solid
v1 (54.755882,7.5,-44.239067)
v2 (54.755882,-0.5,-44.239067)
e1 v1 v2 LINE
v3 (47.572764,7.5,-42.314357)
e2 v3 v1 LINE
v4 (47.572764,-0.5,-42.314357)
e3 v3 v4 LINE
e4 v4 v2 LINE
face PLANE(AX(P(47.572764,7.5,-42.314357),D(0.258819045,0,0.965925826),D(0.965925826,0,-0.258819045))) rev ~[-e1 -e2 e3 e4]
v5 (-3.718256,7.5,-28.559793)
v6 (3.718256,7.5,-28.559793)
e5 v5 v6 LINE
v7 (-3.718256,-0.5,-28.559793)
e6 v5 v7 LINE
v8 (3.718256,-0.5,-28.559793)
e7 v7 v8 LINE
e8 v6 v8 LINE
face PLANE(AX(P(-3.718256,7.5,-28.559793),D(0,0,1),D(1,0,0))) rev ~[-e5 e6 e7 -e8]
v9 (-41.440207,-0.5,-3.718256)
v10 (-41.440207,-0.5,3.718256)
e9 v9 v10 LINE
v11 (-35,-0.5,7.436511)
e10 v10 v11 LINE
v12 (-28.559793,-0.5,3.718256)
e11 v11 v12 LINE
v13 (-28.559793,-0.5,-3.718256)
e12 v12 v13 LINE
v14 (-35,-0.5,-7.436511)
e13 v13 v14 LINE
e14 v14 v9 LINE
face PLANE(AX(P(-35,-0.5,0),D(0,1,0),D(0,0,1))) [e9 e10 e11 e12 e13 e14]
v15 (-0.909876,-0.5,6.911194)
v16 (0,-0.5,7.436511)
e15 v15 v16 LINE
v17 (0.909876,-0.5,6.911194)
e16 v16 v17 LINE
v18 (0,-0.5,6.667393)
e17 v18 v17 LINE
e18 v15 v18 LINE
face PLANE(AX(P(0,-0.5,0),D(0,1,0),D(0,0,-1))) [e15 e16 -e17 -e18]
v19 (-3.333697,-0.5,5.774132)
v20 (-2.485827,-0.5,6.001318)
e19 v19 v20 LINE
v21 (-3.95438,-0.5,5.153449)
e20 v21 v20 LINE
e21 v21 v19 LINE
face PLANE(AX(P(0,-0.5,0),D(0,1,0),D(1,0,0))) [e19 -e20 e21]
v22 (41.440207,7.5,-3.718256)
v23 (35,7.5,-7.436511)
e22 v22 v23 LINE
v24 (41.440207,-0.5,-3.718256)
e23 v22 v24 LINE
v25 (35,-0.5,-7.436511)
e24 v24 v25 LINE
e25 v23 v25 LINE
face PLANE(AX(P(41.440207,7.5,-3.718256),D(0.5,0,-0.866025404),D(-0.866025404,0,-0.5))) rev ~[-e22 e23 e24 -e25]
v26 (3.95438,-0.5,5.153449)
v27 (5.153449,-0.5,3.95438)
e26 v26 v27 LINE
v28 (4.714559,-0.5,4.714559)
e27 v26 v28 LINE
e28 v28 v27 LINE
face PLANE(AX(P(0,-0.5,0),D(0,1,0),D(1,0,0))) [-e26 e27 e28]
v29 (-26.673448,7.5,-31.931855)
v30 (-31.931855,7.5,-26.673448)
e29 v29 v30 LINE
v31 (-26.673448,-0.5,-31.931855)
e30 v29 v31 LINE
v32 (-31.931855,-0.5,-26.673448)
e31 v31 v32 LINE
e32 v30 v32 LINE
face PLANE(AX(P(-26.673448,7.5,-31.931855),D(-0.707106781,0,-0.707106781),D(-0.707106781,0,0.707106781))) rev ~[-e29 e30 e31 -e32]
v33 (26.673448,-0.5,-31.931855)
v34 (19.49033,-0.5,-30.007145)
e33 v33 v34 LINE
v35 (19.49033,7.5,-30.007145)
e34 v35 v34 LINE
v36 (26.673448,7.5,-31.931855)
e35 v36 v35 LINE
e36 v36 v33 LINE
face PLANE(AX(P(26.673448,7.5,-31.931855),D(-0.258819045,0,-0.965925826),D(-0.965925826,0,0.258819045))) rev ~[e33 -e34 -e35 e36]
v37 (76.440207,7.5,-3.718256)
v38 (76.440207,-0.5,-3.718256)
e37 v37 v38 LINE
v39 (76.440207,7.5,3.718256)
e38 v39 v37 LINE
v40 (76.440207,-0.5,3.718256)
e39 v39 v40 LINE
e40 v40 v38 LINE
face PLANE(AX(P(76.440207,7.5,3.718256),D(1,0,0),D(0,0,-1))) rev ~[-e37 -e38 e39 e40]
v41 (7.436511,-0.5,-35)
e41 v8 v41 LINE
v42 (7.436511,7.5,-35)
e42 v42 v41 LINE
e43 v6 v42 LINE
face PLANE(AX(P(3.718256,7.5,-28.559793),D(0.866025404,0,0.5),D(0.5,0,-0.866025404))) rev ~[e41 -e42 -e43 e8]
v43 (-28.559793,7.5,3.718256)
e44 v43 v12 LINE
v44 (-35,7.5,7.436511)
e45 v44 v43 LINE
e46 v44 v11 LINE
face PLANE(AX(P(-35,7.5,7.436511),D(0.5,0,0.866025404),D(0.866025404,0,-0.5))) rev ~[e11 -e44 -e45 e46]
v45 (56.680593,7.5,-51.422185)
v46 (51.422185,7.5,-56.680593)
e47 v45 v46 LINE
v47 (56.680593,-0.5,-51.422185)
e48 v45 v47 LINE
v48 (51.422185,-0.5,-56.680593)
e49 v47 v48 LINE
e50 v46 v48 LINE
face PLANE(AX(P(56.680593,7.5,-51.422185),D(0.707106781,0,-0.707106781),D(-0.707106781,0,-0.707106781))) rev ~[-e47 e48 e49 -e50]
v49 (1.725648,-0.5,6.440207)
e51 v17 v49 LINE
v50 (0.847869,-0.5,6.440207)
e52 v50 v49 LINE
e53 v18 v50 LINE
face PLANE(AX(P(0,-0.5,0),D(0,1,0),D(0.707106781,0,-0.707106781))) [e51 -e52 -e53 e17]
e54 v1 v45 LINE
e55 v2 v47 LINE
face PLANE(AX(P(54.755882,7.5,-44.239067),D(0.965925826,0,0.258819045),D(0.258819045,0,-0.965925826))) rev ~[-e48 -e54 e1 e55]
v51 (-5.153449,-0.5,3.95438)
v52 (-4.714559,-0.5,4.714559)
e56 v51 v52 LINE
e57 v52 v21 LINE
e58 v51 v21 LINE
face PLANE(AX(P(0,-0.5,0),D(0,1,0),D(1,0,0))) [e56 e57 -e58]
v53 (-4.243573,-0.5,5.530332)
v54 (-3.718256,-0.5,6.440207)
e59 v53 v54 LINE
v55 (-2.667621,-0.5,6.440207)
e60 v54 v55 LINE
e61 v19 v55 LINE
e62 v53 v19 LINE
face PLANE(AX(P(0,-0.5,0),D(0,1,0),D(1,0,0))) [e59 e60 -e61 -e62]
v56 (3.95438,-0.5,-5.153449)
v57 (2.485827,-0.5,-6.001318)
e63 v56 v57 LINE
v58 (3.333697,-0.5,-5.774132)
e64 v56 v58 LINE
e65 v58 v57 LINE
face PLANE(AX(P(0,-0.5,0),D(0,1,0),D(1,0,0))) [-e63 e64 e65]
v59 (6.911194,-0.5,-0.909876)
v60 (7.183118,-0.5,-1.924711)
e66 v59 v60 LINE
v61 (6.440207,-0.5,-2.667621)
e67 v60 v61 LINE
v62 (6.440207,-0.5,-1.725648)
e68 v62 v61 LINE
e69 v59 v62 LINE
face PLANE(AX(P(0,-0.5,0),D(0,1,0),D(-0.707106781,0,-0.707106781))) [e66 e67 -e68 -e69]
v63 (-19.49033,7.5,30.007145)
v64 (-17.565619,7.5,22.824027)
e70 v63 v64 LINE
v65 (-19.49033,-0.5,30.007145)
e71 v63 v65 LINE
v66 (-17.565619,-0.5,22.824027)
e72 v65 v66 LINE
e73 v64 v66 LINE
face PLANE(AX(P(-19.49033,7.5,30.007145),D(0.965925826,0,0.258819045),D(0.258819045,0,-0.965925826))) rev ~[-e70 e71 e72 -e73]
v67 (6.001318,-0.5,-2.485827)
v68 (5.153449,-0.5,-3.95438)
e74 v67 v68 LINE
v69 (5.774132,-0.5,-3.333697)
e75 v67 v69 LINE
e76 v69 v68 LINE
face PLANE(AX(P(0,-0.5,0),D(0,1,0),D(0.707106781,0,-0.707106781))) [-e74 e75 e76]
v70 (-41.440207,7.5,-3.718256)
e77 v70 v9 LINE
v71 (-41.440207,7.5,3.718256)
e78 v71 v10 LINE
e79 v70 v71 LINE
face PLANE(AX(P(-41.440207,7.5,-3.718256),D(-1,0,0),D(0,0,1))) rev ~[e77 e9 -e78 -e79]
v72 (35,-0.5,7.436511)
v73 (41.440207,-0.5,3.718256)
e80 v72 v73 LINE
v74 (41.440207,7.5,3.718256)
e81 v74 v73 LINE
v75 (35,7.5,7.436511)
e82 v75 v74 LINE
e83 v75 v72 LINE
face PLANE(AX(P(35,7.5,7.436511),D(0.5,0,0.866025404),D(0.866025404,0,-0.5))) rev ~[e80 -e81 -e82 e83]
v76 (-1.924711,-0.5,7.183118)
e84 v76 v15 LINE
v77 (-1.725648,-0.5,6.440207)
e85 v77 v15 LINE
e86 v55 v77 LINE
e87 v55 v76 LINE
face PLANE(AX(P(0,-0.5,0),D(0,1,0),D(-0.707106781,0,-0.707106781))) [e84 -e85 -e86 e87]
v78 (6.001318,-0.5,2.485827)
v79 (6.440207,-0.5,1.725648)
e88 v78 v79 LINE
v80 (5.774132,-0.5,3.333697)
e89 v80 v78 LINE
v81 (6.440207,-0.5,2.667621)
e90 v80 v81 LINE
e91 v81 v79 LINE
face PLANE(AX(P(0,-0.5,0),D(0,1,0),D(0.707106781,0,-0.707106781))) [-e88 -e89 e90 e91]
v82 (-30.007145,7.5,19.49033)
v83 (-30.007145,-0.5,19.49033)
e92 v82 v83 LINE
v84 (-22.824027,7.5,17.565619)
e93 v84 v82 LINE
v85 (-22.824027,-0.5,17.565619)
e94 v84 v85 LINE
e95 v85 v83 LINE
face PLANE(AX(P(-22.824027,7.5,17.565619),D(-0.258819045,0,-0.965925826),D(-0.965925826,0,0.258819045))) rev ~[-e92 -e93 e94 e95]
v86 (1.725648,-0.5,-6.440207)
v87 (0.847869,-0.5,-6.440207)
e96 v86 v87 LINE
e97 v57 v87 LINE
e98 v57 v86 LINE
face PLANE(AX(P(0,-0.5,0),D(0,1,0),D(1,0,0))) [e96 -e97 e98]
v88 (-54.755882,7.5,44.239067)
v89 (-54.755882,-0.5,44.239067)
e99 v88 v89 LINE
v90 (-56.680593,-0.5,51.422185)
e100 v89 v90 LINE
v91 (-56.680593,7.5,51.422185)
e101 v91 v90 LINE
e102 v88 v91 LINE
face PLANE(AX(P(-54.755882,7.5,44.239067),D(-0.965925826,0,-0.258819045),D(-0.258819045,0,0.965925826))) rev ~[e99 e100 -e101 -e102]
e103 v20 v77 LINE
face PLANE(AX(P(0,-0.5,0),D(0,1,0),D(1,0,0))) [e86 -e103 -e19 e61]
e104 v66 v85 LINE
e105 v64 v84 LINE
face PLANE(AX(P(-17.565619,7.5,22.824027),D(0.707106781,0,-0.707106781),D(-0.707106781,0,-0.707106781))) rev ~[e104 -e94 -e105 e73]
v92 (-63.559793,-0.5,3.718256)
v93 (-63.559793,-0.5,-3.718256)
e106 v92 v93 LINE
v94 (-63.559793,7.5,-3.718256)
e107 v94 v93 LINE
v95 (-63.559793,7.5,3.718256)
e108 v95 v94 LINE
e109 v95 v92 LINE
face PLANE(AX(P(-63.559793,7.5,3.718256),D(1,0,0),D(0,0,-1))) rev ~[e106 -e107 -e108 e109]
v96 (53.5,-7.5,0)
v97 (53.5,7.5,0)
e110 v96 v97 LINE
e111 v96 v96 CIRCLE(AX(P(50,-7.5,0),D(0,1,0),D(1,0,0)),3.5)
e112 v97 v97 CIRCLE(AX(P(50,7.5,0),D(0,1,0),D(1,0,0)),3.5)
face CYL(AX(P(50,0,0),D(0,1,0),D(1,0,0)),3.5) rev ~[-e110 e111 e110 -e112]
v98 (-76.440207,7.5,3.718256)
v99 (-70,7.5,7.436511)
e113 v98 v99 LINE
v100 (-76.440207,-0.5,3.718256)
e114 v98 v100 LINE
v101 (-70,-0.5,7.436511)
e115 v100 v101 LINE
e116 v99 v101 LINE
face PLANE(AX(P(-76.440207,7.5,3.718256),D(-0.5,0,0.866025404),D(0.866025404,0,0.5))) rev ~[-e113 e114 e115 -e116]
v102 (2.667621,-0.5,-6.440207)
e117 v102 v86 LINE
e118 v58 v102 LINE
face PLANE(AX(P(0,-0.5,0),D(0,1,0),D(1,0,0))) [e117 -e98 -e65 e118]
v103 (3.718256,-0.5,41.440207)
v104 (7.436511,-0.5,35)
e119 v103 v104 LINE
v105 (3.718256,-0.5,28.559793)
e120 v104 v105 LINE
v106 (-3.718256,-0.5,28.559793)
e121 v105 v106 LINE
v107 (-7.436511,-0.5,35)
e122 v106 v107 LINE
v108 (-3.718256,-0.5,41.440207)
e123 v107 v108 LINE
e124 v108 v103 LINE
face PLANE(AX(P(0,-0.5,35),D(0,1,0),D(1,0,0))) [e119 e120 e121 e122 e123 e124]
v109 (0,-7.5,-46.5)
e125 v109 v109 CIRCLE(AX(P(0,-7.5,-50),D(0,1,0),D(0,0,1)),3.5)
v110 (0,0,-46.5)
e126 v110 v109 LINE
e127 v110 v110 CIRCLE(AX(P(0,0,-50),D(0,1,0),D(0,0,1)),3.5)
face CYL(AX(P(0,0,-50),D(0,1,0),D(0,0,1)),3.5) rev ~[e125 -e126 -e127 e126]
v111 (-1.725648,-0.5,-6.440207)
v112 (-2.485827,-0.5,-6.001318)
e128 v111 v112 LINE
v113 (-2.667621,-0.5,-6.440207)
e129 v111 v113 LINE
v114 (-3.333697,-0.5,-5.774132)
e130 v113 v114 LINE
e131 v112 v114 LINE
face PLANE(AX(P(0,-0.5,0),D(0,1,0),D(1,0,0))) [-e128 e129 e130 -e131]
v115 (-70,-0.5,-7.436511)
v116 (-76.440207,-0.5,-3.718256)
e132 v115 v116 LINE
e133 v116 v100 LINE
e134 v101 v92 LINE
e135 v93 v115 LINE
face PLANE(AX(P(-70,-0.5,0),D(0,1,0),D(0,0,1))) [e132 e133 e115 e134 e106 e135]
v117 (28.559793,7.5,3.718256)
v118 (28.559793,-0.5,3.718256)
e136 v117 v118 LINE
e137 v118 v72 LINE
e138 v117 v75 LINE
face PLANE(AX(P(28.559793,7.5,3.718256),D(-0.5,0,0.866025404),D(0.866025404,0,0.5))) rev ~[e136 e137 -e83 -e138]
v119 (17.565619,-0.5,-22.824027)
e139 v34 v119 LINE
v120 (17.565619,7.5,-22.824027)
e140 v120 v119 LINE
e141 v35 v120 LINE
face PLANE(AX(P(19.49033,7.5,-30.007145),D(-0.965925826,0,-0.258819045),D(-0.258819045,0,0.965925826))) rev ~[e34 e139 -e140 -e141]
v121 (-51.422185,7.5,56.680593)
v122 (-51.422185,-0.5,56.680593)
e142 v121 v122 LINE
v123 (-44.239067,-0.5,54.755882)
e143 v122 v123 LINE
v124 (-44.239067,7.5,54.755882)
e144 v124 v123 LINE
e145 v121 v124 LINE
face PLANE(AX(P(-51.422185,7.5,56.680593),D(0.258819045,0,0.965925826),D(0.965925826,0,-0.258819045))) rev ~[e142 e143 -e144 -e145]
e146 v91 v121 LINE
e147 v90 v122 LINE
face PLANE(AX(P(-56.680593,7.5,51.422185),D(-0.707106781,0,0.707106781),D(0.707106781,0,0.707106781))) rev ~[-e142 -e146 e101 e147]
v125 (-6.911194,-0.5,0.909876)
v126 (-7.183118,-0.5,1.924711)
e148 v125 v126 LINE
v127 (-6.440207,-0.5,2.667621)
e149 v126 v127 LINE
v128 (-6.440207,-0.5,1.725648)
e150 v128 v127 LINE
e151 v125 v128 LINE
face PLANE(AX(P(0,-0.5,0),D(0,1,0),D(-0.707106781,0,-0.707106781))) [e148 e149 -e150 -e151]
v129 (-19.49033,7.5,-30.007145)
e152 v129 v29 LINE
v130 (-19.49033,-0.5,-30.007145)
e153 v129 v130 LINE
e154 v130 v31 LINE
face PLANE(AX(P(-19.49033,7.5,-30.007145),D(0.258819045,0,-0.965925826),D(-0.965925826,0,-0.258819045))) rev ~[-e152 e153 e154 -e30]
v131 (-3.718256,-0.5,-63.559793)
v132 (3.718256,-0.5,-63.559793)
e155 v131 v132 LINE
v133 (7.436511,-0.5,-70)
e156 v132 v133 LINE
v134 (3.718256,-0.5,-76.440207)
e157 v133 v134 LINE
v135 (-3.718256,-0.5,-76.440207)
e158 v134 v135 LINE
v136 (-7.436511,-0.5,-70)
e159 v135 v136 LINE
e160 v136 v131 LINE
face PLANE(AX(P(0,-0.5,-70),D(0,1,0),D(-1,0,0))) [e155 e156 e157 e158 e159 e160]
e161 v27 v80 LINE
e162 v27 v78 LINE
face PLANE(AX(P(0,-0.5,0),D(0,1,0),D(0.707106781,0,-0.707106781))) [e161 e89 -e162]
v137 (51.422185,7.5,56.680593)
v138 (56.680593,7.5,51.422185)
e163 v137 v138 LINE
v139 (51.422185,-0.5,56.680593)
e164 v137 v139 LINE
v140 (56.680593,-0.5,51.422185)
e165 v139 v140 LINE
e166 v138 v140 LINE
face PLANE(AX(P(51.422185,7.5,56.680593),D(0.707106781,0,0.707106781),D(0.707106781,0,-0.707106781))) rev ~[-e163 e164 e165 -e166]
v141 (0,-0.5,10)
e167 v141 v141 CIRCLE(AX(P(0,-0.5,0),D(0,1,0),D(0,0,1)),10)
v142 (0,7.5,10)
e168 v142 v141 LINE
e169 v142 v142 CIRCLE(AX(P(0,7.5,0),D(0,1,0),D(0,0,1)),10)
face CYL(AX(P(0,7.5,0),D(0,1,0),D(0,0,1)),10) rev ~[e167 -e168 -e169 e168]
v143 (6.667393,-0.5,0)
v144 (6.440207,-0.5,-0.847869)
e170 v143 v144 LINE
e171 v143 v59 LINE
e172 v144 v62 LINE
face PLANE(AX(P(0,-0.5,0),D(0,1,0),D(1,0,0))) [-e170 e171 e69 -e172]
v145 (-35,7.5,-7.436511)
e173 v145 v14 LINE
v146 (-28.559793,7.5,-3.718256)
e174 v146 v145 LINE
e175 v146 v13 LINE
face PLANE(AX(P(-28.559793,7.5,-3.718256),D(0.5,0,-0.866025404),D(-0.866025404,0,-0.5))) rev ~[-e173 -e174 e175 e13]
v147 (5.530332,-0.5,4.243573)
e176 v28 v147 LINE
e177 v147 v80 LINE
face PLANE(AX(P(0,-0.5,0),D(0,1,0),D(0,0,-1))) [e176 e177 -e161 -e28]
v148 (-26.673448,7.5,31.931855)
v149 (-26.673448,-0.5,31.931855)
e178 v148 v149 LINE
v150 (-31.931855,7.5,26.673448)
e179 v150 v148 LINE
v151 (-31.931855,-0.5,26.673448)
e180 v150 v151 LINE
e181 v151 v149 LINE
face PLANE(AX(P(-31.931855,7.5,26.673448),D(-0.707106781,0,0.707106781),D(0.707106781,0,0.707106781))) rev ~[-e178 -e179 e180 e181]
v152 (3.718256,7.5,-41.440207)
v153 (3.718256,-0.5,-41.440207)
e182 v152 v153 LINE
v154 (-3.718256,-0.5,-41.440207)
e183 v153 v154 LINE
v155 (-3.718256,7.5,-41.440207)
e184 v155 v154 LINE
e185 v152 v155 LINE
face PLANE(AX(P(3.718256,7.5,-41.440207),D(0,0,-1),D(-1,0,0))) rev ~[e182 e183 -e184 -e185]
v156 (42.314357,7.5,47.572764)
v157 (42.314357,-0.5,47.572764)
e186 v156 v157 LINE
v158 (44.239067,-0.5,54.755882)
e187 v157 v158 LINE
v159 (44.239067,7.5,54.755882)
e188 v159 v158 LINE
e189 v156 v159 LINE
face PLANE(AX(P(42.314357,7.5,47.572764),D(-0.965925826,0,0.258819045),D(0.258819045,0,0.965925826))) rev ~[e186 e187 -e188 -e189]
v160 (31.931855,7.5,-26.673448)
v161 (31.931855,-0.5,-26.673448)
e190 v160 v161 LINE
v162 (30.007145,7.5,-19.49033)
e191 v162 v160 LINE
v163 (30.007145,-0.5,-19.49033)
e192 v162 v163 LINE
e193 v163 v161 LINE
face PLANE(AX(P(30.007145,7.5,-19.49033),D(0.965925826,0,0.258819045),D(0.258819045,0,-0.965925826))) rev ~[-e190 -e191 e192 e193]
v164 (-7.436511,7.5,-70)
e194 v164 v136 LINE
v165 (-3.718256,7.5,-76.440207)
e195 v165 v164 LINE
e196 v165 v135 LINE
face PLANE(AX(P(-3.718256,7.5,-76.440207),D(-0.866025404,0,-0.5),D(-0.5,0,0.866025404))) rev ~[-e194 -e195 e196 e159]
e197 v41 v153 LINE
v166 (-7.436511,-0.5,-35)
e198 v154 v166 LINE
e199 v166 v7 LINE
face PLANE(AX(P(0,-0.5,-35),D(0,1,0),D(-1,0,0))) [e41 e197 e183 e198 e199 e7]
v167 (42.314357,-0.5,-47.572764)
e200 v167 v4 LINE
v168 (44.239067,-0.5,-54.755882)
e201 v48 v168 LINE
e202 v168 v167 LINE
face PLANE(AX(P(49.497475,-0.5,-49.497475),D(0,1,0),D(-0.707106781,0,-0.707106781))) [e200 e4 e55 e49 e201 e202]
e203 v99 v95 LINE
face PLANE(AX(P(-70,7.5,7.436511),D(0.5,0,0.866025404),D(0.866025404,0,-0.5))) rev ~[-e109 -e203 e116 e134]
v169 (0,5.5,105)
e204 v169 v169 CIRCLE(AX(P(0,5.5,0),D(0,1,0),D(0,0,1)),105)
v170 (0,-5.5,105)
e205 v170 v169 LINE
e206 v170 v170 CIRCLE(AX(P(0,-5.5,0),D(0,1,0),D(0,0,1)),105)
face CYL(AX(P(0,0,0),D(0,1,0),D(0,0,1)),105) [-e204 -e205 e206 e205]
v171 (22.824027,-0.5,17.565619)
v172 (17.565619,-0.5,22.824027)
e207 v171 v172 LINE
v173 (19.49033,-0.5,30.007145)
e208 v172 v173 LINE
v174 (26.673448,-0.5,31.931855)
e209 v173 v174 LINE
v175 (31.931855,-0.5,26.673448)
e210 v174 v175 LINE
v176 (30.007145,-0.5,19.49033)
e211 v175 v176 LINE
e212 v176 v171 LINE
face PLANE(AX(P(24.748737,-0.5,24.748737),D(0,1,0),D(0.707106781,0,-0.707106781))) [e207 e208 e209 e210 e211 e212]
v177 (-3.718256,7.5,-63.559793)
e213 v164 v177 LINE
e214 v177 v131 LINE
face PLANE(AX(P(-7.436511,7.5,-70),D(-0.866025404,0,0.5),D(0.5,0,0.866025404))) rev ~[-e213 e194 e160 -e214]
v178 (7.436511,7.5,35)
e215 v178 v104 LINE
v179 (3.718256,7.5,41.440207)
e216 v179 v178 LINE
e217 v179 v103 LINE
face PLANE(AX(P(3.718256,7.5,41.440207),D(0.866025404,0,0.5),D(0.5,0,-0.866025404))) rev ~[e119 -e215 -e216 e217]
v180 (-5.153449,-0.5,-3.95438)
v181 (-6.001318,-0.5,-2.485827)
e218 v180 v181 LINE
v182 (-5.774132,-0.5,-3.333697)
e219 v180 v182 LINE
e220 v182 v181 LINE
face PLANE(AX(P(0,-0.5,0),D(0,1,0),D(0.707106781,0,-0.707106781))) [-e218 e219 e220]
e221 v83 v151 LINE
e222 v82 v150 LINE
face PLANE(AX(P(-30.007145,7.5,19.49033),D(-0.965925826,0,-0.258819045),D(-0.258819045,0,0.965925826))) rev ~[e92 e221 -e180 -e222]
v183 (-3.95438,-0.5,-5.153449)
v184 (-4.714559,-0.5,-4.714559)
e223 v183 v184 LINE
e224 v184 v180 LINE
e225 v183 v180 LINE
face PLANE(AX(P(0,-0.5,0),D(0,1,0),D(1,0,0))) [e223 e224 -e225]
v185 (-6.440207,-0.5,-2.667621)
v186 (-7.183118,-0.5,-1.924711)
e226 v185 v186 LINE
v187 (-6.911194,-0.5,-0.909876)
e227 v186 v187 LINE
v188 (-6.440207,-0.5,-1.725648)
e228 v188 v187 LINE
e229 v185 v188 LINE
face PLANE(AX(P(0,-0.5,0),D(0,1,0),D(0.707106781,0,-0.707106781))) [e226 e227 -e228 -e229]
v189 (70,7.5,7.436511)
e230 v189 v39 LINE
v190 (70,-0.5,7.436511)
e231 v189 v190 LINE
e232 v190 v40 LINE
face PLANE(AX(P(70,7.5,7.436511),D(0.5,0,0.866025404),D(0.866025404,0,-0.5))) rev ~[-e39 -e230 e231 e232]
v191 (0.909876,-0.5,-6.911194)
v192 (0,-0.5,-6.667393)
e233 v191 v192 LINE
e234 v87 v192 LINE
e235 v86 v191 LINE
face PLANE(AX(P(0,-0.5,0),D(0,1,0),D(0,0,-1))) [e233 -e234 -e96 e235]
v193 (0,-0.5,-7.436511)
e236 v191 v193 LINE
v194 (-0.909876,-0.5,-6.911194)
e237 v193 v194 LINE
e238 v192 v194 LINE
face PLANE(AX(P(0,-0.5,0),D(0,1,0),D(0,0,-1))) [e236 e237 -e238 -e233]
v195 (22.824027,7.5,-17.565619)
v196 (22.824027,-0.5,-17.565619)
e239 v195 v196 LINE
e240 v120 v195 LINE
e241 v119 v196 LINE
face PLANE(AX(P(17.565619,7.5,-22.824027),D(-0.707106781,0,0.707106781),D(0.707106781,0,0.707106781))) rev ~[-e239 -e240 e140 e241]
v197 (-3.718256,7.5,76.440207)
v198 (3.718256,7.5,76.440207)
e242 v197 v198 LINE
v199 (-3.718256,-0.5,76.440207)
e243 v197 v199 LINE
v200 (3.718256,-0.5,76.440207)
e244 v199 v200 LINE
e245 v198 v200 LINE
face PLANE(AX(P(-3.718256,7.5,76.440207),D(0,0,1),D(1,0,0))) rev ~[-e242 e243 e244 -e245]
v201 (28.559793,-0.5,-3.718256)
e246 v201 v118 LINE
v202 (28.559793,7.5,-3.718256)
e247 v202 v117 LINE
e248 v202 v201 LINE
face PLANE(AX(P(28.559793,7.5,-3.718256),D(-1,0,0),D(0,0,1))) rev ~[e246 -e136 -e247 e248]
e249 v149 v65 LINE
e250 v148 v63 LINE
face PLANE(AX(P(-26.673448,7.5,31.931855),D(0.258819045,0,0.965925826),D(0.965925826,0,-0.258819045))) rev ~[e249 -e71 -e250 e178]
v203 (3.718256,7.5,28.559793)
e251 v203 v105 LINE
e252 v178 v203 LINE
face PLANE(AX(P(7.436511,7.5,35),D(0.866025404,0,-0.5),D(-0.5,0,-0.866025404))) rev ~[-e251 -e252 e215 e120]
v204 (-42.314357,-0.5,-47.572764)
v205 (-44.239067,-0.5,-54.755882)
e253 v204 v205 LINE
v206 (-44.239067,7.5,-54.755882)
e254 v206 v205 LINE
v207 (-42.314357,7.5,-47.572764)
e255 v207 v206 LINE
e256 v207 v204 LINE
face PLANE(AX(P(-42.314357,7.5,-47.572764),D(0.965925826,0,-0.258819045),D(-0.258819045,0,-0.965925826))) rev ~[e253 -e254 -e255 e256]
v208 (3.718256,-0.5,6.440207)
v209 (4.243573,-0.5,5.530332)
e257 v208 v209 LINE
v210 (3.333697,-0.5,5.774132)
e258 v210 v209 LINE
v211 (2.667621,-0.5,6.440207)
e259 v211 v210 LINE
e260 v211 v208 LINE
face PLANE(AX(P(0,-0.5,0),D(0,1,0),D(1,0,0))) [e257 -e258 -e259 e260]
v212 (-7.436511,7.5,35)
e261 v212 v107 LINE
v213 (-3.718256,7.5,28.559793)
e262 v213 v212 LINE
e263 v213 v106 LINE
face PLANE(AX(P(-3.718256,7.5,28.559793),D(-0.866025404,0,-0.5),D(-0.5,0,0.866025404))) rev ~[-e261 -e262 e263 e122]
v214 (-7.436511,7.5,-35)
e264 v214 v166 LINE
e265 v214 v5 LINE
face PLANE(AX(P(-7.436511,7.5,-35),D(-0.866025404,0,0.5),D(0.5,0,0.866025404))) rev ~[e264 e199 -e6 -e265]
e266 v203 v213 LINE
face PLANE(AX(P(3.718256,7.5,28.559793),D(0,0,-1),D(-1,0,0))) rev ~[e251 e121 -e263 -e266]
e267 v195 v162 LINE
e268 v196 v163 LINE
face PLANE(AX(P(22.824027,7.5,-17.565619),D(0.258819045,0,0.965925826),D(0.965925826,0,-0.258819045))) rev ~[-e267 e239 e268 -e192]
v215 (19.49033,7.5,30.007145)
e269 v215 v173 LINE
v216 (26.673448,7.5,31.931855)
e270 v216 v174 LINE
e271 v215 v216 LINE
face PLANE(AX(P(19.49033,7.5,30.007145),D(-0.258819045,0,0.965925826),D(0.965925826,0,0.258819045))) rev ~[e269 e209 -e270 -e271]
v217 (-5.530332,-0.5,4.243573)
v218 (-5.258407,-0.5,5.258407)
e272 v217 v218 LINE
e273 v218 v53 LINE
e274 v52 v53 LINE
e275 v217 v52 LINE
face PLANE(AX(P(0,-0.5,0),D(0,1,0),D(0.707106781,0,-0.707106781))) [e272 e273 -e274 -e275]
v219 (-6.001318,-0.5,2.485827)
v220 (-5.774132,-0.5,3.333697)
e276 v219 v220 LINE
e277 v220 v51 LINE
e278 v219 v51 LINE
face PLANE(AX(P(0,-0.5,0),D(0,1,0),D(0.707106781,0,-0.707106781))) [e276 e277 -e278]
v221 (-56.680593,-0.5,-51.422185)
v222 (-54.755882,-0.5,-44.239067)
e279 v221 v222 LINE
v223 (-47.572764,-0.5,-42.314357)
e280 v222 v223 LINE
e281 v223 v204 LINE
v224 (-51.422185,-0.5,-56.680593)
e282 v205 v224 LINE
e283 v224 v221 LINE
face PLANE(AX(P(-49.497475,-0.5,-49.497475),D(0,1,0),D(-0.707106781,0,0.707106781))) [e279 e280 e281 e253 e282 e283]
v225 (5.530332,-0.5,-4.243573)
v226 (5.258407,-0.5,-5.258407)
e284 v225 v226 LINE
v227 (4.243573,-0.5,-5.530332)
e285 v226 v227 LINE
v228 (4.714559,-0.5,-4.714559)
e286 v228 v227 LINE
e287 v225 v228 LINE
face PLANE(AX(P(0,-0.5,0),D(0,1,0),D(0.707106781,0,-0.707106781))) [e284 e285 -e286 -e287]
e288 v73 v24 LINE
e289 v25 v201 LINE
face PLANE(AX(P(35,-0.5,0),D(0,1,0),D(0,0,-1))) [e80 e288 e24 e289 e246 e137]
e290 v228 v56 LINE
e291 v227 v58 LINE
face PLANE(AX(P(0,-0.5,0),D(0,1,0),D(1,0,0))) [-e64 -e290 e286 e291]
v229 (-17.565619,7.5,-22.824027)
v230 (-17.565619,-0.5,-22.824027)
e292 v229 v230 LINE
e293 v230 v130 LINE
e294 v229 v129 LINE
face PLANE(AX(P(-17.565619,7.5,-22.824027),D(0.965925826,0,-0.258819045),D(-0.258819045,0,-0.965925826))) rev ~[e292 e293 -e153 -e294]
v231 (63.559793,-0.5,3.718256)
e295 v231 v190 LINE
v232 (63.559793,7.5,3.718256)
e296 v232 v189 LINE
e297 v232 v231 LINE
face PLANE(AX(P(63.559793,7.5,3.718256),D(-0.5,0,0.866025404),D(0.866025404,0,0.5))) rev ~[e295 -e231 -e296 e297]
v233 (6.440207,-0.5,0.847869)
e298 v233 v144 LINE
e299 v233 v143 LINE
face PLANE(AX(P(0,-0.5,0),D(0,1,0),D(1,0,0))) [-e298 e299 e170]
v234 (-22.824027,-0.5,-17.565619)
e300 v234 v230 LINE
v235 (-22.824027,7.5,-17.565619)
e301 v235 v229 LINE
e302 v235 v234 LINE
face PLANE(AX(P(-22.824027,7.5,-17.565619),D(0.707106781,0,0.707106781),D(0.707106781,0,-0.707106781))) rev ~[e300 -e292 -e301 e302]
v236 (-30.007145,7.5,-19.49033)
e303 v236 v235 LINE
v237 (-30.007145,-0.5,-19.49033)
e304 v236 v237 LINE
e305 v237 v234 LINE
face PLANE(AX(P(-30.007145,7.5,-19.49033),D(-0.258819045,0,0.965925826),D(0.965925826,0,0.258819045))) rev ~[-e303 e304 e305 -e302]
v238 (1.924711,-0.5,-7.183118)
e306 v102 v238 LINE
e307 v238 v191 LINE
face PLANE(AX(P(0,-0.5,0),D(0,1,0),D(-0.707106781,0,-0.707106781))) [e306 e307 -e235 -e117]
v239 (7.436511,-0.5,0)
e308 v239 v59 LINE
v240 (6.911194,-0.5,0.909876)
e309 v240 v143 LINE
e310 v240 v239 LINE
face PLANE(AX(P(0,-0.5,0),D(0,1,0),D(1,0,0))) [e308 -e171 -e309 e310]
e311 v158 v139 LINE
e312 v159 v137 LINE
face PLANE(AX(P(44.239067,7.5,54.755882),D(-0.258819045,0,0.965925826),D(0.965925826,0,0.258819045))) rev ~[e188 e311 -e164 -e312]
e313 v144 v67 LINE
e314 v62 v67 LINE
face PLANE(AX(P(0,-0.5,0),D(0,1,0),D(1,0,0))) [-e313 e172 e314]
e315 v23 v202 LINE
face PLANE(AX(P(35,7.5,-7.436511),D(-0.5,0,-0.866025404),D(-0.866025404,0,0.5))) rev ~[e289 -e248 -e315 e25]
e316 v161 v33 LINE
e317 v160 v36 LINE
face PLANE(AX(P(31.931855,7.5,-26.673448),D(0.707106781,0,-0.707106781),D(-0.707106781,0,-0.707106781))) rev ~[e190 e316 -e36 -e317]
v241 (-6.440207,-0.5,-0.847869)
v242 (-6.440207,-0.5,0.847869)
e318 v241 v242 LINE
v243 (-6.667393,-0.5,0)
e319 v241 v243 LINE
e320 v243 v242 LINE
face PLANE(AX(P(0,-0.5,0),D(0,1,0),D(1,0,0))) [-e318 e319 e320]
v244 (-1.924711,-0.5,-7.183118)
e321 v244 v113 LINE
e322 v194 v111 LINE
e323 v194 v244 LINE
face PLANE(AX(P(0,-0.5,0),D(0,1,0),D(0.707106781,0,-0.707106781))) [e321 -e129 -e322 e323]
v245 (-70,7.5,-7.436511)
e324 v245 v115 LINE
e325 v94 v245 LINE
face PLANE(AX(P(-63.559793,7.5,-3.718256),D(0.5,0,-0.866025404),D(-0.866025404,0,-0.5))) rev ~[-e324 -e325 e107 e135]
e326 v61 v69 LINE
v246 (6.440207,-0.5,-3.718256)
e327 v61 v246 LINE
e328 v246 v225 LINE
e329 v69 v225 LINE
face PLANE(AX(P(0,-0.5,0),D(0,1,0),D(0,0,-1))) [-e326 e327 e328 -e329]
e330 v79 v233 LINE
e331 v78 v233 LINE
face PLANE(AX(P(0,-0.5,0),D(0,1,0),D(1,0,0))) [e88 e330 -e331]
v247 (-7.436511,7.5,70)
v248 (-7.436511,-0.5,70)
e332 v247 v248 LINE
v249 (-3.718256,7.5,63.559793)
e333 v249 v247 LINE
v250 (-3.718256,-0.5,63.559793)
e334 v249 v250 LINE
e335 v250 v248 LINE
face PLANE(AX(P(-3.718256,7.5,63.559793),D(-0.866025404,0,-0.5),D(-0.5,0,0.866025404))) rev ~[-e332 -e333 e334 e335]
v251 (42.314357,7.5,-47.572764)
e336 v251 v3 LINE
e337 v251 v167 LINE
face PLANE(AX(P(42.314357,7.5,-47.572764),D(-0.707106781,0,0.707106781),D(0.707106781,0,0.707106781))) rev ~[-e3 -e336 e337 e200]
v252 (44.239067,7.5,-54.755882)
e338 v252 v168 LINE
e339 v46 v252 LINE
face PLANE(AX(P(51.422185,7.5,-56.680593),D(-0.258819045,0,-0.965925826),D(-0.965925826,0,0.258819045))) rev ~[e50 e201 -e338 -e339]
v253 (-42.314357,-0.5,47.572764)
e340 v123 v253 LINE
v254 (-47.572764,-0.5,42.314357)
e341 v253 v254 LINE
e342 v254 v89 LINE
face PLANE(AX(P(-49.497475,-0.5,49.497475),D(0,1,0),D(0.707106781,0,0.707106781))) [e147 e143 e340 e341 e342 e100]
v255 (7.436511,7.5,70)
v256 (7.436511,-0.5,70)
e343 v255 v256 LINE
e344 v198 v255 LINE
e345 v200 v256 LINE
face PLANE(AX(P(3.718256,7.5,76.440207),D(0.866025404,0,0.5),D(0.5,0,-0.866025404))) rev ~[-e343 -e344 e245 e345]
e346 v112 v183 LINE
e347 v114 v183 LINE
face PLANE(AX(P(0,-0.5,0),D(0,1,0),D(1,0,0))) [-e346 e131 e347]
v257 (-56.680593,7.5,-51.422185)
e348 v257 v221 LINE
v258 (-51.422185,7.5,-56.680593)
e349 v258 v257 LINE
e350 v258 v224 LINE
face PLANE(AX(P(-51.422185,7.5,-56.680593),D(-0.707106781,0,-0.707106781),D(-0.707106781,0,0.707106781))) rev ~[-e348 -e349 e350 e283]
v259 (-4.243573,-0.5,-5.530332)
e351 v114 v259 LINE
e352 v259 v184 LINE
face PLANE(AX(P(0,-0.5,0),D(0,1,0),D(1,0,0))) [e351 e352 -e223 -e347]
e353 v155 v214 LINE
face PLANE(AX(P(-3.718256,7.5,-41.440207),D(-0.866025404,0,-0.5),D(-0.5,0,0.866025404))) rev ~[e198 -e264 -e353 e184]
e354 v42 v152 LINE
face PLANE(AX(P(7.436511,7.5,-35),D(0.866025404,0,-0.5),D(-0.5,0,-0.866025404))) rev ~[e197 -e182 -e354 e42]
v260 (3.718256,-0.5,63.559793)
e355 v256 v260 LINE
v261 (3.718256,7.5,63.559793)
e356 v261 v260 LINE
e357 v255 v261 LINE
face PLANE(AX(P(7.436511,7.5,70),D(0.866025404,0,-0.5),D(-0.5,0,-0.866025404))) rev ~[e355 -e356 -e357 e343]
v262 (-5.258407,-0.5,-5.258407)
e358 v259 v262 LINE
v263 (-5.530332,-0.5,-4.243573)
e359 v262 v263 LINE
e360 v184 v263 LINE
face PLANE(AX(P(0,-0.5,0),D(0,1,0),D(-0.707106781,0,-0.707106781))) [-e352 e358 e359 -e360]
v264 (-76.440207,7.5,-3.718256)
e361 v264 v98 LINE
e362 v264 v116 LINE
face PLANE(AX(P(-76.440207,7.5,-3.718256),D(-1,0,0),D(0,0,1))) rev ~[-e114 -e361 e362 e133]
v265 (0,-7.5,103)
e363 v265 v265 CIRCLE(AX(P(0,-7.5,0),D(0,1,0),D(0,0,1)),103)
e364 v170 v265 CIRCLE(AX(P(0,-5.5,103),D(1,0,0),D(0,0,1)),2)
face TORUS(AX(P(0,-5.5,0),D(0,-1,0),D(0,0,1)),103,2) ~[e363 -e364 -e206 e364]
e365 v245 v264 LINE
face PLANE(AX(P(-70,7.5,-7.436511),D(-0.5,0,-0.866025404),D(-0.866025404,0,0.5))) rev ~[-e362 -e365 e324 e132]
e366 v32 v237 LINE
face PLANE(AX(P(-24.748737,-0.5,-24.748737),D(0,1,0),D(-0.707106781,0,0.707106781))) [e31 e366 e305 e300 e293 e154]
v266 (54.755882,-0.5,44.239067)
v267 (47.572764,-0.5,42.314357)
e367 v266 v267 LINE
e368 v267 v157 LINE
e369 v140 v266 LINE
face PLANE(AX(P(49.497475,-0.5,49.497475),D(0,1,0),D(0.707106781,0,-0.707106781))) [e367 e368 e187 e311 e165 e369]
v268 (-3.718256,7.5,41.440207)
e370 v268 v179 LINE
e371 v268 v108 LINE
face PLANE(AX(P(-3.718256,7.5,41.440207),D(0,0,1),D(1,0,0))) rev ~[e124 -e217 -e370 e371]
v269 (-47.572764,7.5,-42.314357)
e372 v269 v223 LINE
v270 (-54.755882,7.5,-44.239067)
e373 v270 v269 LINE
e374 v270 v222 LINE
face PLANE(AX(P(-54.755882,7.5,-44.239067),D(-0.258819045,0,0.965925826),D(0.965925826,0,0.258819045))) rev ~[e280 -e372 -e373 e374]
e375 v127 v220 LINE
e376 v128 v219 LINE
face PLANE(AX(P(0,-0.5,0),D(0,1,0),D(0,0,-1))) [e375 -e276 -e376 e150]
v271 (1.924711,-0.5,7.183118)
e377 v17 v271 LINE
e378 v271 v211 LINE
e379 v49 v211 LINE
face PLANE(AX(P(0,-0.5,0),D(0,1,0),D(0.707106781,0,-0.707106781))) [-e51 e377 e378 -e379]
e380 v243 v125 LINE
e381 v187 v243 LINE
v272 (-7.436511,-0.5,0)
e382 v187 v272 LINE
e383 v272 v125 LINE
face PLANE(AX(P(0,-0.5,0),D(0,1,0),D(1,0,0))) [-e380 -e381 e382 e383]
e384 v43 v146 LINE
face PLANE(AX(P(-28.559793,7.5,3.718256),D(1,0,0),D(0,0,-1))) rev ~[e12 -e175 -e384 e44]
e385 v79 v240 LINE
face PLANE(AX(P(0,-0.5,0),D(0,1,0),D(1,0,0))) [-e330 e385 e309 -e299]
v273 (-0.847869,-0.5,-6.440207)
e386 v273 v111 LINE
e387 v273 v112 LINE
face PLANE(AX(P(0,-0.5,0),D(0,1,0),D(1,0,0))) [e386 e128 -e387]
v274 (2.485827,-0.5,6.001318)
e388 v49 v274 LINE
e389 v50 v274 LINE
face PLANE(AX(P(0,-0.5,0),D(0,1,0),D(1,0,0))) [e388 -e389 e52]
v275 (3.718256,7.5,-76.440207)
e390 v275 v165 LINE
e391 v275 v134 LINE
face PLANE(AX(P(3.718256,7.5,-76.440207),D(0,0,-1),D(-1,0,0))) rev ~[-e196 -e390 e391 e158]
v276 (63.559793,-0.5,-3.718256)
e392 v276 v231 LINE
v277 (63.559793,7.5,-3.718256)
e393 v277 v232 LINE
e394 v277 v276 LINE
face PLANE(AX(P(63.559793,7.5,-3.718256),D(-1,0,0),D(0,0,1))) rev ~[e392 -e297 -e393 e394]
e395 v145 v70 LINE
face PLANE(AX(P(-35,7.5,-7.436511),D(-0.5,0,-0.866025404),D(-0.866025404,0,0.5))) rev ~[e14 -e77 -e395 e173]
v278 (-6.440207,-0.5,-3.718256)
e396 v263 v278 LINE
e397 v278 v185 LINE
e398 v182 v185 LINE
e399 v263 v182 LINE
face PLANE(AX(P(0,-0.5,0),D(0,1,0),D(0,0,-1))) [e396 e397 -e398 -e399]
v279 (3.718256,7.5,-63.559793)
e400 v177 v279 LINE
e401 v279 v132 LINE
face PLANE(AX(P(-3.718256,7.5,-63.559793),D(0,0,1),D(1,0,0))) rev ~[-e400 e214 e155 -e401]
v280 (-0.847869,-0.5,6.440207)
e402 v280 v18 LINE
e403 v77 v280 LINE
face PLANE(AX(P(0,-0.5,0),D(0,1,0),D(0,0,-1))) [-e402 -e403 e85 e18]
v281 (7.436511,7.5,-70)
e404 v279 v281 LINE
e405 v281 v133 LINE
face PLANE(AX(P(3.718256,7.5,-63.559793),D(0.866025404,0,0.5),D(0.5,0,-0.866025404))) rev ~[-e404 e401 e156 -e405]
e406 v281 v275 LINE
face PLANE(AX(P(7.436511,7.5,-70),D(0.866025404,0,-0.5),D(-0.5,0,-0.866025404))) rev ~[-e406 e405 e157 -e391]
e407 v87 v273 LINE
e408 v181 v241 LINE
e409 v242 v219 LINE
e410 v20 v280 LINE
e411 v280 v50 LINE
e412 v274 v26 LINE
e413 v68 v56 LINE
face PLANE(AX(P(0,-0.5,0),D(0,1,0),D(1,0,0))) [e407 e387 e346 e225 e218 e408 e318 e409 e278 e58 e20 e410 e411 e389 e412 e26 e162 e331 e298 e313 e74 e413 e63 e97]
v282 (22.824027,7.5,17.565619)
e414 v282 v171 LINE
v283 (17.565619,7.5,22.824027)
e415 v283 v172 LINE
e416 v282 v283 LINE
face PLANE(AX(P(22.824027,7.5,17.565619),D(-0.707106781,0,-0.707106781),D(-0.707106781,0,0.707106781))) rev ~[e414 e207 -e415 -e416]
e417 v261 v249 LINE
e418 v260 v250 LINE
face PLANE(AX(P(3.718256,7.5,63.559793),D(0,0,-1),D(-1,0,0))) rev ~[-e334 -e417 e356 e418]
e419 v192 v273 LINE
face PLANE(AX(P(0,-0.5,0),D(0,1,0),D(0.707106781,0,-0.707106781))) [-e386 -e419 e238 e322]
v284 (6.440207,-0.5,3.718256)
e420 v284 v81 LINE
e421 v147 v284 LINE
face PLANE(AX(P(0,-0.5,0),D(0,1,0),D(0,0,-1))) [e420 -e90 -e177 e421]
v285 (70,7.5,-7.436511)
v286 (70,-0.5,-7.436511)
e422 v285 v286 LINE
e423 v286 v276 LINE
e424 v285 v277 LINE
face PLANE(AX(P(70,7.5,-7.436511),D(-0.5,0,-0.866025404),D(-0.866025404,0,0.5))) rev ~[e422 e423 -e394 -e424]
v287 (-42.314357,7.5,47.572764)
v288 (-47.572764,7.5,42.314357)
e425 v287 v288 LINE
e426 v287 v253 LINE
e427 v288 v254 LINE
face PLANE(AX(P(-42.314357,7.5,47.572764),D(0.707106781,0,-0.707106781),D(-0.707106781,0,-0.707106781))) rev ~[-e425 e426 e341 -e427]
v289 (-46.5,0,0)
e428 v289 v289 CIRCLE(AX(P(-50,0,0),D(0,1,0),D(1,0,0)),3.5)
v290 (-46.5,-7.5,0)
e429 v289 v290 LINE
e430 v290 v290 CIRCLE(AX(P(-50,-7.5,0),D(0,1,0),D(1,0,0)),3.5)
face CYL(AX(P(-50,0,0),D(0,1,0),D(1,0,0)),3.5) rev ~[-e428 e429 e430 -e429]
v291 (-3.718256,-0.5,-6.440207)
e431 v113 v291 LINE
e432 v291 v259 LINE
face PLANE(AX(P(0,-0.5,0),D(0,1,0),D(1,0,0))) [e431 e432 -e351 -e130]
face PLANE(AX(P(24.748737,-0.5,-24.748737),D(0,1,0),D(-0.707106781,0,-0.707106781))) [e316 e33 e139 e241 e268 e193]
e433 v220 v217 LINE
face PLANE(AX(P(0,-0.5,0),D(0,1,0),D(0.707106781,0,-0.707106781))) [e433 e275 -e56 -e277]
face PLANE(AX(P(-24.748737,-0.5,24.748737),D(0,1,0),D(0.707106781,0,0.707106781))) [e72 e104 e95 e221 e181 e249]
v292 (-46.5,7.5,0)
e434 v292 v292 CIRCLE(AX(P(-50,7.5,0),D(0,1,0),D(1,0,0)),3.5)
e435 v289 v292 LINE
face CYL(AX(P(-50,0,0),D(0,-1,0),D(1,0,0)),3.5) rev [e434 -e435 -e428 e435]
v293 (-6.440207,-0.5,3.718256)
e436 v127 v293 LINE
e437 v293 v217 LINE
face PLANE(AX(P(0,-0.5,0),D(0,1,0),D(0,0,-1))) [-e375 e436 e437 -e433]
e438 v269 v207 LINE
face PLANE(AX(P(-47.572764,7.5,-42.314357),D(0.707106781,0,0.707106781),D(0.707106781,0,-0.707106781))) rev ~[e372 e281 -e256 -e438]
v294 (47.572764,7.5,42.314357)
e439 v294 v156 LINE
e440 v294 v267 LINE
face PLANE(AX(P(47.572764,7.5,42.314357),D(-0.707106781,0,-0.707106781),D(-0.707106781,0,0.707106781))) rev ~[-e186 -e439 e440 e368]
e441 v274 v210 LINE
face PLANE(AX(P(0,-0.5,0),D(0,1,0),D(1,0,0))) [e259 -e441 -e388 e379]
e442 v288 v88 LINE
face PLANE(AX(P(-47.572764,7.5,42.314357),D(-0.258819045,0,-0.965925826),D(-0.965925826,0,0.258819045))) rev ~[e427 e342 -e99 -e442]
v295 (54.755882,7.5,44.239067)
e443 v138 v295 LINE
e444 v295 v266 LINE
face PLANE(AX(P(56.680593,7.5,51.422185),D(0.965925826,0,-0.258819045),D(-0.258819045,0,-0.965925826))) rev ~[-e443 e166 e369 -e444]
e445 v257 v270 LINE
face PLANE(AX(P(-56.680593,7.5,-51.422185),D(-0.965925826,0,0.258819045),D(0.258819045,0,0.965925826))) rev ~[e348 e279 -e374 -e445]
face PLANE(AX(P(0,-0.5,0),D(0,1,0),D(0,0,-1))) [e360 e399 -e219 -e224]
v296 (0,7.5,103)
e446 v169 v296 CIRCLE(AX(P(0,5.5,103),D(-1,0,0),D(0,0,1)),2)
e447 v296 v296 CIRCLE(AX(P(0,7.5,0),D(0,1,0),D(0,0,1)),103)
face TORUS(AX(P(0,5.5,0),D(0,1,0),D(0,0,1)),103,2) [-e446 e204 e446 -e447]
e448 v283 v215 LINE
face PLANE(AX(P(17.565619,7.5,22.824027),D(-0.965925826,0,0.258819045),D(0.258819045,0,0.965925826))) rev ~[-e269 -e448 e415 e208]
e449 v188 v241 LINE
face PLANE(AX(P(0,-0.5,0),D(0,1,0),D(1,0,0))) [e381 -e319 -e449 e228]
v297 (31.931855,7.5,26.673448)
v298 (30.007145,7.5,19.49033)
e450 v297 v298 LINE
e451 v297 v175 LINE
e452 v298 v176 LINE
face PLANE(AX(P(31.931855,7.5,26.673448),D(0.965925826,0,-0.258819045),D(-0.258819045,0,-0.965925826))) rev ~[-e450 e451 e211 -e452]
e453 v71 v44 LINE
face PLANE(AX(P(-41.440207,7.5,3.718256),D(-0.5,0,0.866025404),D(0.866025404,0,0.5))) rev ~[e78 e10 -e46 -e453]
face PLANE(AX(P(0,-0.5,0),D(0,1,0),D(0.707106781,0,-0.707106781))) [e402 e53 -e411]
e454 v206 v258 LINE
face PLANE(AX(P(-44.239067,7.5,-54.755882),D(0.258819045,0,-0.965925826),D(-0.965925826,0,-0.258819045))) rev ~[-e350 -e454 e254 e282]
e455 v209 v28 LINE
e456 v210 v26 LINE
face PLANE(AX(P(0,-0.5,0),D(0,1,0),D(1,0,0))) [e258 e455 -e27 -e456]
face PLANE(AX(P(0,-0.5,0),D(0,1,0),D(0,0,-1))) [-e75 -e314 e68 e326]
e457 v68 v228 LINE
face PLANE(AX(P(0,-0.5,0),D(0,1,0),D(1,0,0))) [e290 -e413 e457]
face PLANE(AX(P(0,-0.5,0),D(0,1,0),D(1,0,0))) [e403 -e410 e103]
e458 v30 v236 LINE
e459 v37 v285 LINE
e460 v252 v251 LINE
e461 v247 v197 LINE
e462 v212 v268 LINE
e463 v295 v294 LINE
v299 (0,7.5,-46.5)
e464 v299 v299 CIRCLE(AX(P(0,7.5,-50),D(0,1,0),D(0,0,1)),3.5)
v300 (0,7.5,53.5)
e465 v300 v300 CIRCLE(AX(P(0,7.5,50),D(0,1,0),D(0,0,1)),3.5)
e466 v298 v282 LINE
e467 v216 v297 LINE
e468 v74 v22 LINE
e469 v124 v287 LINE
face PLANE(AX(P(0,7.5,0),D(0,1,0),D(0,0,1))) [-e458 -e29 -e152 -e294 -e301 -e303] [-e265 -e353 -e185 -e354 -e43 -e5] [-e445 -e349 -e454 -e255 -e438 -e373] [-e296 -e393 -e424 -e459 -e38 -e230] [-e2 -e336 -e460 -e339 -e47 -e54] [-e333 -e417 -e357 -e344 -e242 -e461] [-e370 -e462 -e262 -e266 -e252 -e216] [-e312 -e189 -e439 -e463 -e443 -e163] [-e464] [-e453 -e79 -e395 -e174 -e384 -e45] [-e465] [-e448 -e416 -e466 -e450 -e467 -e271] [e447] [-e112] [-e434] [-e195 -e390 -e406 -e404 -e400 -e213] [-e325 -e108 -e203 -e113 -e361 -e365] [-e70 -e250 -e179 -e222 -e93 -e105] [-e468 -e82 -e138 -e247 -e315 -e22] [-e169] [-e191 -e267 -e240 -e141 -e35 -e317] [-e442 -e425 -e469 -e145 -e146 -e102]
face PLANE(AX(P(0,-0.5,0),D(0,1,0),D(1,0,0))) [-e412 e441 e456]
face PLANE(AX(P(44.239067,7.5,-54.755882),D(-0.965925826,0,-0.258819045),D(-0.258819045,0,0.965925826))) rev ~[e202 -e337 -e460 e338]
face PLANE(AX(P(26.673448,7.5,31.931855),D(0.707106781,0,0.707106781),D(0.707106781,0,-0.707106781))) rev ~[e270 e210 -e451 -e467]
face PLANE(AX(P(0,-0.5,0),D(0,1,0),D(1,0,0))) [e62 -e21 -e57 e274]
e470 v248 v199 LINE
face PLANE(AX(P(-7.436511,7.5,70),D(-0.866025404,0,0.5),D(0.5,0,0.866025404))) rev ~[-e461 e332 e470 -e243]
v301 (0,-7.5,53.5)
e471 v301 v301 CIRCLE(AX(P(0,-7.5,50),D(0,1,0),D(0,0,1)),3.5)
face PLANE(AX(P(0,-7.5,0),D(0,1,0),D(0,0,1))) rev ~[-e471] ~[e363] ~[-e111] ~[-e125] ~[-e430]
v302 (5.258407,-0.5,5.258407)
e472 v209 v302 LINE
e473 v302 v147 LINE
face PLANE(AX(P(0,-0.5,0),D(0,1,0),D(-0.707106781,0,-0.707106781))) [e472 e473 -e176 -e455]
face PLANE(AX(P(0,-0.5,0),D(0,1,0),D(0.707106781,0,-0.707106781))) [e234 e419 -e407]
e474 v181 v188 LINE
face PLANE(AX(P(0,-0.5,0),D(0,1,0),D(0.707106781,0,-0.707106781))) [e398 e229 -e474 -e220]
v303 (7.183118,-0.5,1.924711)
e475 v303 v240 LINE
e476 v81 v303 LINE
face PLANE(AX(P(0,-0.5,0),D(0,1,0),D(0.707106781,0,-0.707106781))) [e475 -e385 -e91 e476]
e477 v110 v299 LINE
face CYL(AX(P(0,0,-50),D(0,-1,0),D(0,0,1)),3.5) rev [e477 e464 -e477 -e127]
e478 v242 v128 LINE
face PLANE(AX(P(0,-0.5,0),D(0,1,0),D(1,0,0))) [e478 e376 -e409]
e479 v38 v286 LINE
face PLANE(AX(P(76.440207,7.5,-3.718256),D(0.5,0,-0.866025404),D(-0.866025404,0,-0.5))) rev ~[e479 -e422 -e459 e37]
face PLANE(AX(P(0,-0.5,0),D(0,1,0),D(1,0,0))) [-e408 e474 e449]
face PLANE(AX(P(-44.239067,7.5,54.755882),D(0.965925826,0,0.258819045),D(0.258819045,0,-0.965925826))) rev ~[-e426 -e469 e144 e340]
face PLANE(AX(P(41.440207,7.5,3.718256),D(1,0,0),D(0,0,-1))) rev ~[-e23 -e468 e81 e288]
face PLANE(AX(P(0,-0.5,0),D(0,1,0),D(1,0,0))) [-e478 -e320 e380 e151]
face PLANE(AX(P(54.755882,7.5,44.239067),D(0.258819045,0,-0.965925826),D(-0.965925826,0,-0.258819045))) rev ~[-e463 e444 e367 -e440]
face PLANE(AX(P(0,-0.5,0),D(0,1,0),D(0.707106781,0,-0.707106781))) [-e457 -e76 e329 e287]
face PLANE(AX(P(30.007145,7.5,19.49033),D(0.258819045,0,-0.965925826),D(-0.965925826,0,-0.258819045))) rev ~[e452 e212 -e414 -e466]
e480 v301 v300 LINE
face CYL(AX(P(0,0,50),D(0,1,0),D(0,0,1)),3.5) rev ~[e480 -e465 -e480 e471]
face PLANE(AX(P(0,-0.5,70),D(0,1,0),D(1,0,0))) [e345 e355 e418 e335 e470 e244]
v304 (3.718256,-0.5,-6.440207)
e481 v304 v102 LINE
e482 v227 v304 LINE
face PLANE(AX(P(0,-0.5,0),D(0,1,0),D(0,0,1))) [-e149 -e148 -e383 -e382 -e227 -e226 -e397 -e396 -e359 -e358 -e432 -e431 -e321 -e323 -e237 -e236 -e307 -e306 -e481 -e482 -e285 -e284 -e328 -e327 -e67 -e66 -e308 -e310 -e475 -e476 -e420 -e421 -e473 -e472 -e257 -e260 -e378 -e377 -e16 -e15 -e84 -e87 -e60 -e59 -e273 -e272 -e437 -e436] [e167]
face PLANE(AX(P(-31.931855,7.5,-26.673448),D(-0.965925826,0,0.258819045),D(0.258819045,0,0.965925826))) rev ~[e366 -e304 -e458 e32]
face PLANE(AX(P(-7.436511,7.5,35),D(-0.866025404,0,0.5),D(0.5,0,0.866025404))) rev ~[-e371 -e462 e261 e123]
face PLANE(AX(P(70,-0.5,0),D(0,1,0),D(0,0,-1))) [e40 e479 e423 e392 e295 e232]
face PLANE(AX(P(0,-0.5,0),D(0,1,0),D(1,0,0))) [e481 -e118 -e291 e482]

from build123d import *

# Parameters (mm, degrees)
SKETCH1_R                 = 105
BOSS_EXTRUDE1_DEPTH       = 7.5
SKETCH2_R                 = 3.5
CUT_EXTRUDE2_DEPTH        = 7.5
CIRPATTERN1_COUNT         = 2
CIRPATTERN1_ANGLE         = 90
FILLET2_R                 = 2
CUT_EXTRUDE3_DEPTH        = 8
LPATTERN1_COUNT           = 3
LPATTERN1_PITCH           = 35
CIRPATTERN2_COUNT         = 8
CIRPATTERN2_COPY_1_DEPTH  = 8
CIRPATTERN2_COPY_2_DEPTH  = 8
CIRPATTERN2_COPY_3_DEPTH  = 8
CIRPATTERN2_COPY_4_DEPTH  = 8
CIRPATTERN2_COPY_5_DEPTH  = 8
CIRPATTERN2_COPY_6_DEPTH  = 8
CIRPATTERN2_COPY_7_DEPTH  = 8
CIRPATTERN2_COPY_8_DEPTH  = 8
CIRPATTERN2_COPY_9_DEPTH  = 8
CIRPATTERN2_COPY_10_DEPTH = 8
CIRPATTERN2_COPY_11_DEPTH = 8
CIRPATTERN2_COPY_12_DEPTH = 8
CIRPATTERN2_COPY_13_DEPTH = 8
CIRPATTERN2_COPY_14_DEPTH = 8
SKETCH4_R                 = 10
CUT_EXTRUDE4_DEPTH        = 8


with BuildPart() as part:
    # Sketch1 → Boss-Extrude1 (new, symmetric)
    with BuildSketch(Plane(origin=(0, 0, 0), x_dir=(1, 0, 0), z_dir=(0, 1, 0))):
        with Locations(Location((0, 0, 0), (0, 0, 270))):
            Circle(SKETCH1_R)
    extrude(amount=BOSS_EXTRUDE1_DEPTH, both=True)

    # Sketch2 → Cut-Extrude2 (cut, symmetric)
    with BuildSketch(Plane(origin=(0, 0, 0), x_dir=(1, 0, 0), z_dir=(0, 1, 0))):
        with Locations(Location((0, 50, 0), (0, 0, 270))):
            Circle(SKETCH2_R)
        with Locations(Location((0, -50, 0), (0, 0, 270))):
            Circle(SKETCH2_R)
    cut_extrude2 = extrude(amount=CUT_EXTRUDE2_DEPTH, both=True, mode=Mode.SUBTRACT)

    # CirPattern1: Cut-Extrude2 ×2 about axis
    cirpattern1_axis = Axis((0, 0, 0), (0, 1, 0))
    for i in range(1, CIRPATTERN1_COUNT):
        add(cut_extrude2.rotate(cirpattern1_axis, i * CIRPATTERN1_ANGLE / (CIRPATTERN1_COUNT - 1)), mode=Mode.SUBTRACT)

    # Fillet2
    fillet2_edges = [part.edges().sort_by_distance(p)[0] for p in [
        (0, -7.5, -105),
        (0, 7.5, -105),
    ]]
    fillet(fillet2_edges, radius=FILLET2_R)

    # Sketch3 → Cut-Extrude3 (cut)
    with BuildSketch(Plane(origin=(0, 7.5, 0), x_dir=(1, 0, 0), z_dir=(0, 1, 0))):
        Polygon((3.718255526, 6.440207487), (-3.718255526, 6.440207487), (-7.436511052, 0), (-3.718255526, -6.440207487), (3.718255526, -6.440207487), (7.436511052, 0), align=None)
    cut_extrude3 = extrude(amount=-CUT_EXTRUDE3_DEPTH, mode=Mode.SUBTRACT)

    # LPattern1: Cut-Extrude3 ×3
    with Locations(*[(0, 0, i * LPATTERN1_PITCH) for i in range(1, LPATTERN1_COUNT)]):
        add(cut_extrude3, mode=Mode.SUBTRACT)

    # CirPattern2: Cut-Extrude3 ×8 about axis
    cirpattern2_axis = Axis((0, 0, 0), (0, 1, 0))
    for i in range(1, CIRPATTERN2_COUNT):
        add(cut_extrude3.rotate(cirpattern2_axis, i * 360 / CIRPATTERN2_COUNT), mode=Mode.SUBTRACT)

    # CirPattern2 copy 1 sketch → CirPattern2 copy 1 (cut)
    with BuildSketch(Plane(origin=(24.748737342, 7.5, 24.748737342), x_dir=(0.7071067811865476, 0, -0.7071067811865475), z_dir=(0, 1, 0))):
        Polygon((3.718255526, 6.440207487), (-3.718255526, 6.440207487), (-7.436511052, 0), (-3.718255526, -6.440207487), (3.718255526, -6.440207487), (7.436511052, 0), align=None)
    extrude(amount=-CIRPATTERN2_COPY_1_DEPTH, mode=Mode.SUBTRACT)

    # CirPattern2 copy 2 sketch → CirPattern2 copy 2 (cut)
    with BuildSketch(Plane(origin=(35, 7.5, 0), x_dir=(0, 0, -1), z_dir=(0, 1, 0))):
        Polygon((3.718255526, 6.440207487), (-3.718255526, 6.440207487), (-7.436511052, 0), (-3.718255526, -6.440207487), (3.718255526, -6.440207487), (7.436511052, 0), align=None)
    extrude(amount=-CIRPATTERN2_COPY_2_DEPTH, mode=Mode.SUBTRACT)

    # CirPattern2 copy 3 sketch → CirPattern2 copy 3 (cut)
    with BuildSketch(Plane(origin=(24.748737342, 7.5, -24.748737342), x_dir=(-0.7071067811865475, 0, -0.7071067811865476), z_dir=(0, 1, 0))):
        Polygon((3.718255526, 6.440207487), (-3.718255526, 6.440207487), (-7.436511052, 0), (-3.718255526, -6.440207487), (3.718255526, -6.440207487), (7.436511052, 0), align=None)
    extrude(amount=-CIRPATTERN2_COPY_3_DEPTH, mode=Mode.SUBTRACT)

    # CirPattern2 copy 4 sketch → CirPattern2 copy 4 (cut)
    with BuildSketch(Plane(origin=(0, 7.5, -35), x_dir=(-1, 0, 0), z_dir=(0, 1, 0))):
        Polygon((3.718255526, 6.440207487), (-3.718255526, 6.440207487), (-7.436511052, 0), (-3.718255526, -6.440207487), (3.718255526, -6.440207487), (7.436511052, 0), align=None)
    extrude(amount=-CIRPATTERN2_COPY_4_DEPTH, mode=Mode.SUBTRACT)

    # CirPattern2 copy 5 sketch → CirPattern2 copy 5 (cut)
    with BuildSketch(Plane(origin=(-24.748737342, 7.5, -24.748737342), x_dir=(-0.7071067811865477, 0, 0.7071067811865475), z_dir=(0, 1, 0))):
        Polygon((3.718255526, 6.440207487), (-3.718255526, 6.440207487), (-7.436511052, 0), (-3.718255526, -6.440207487), (3.718255526, -6.440207487), (7.436511052, 0), align=None)
    extrude(amount=-CIRPATTERN2_COPY_5_DEPTH, mode=Mode.SUBTRACT)

    # CirPattern2 copy 6 sketch → CirPattern2 copy 6 (cut)
    with BuildSketch(Plane(origin=(-35, 7.5, 0), x_dir=(0, 0, 1), z_dir=(0, 1, 0))):
        Polygon((3.718255526, 6.440207487), (-3.718255526, 6.440207487), (-7.436511052, 0), (-3.718255526, -6.440207487), (3.718255526, -6.440207487), (7.436511052, 0), align=None)
    extrude(amount=-CIRPATTERN2_COPY_6_DEPTH, mode=Mode.SUBTRACT)

    # CirPattern2 copy 7 sketch → CirPattern2 copy 7 (cut)
    with BuildSketch(Plane(origin=(-24.748737342, 7.5, 24.748737342), x_dir=(0.7071067811865474, 0, 0.7071067811865477), z_dir=(0, 1, 0))):
        Polygon((3.718255526, 6.440207487), (-3.718255526, 6.440207487), (-7.436511052, 0), (-3.718255526, -6.440207487), (3.718255526, -6.440207487), (7.436511052, 0), align=None)
    extrude(amount=-CIRPATTERN2_COPY_7_DEPTH, mode=Mode.SUBTRACT)

    # CirPattern2 copy 8 sketch → CirPattern2 copy 8 (cut)
    with BuildSketch(Plane(origin=(49.497474683, 7.5, 49.497474683), x_dir=(0.7071067811865476, 0, -0.7071067811865475), z_dir=(0, 1, 0))):
        Polygon((3.718255526, 6.440207487), (-3.718255526, 6.440207487), (-7.436511052, 0), (-3.718255526, -6.440207487), (3.718255526, -6.440207487), (7.436511052, 0), align=None)
    extrude(amount=-CIRPATTERN2_COPY_8_DEPTH, mode=Mode.SUBTRACT)

    # CirPattern2 copy 9 sketch → CirPattern2 copy 9 (cut)
    with BuildSketch(Plane(origin=(70, 7.5, 0), x_dir=(0, 0, -1), z_dir=(0, 1, 0))):
        Polygon((3.718255526, 6.440207487), (-3.718255526, 6.440207487), (-7.436511052, 0), (-3.718255526, -6.440207487), (3.718255526, -6.440207487), (7.436511052, 0), align=None)
    extrude(amount=-CIRPATTERN2_COPY_9_DEPTH, mode=Mode.SUBTRACT)

    # CirPattern2 copy 10 sketch → CirPattern2 copy 10 (cut)
    with BuildSketch(Plane(origin=(49.497474683, 7.5, -49.497474683), x_dir=(-0.7071067811865475, 0, -0.7071067811865476), z_dir=(0, 1, 0))):
        Polygon((3.718255526, 6.440207487), (-3.718255526, 6.440207487), (-7.436511052, 0), (-3.718255526, -6.440207487), (3.718255526, -6.440207487), (7.436511052, 0), align=None)
    extrude(amount=-CIRPATTERN2_COPY_10_DEPTH, mode=Mode.SUBTRACT)

    # CirPattern2 copy 11 sketch → CirPattern2 copy 11 (cut)
    with BuildSketch(Plane(origin=(0, 7.5, -70), x_dir=(-1, 0, 0), z_dir=(0, 1, 0))):
        Polygon((3.718255526, 6.440207487), (-3.718255526, 6.440207487), (-7.436511052, 0), (-3.718255526, -6.440207487), (3.718255526, -6.440207487), (7.436511052, 0), align=None)
    extrude(amount=-CIRPATTERN2_COPY_11_DEPTH, mode=Mode.SUBTRACT)

    # CirPattern2 copy 12 sketch → CirPattern2 copy 12 (cut)
    with BuildSketch(Plane(origin=(-49.497474683, 7.5, -49.497474683), x_dir=(-0.7071067811865477, 0, 0.7071067811865475), z_dir=(0, 1, 0))):
        Polygon((3.718255526, 6.440207487), (-3.718255526, 6.440207487), (-7.436511052, 0), (-3.718255526, -6.440207487), (3.718255526, -6.440207487), (7.436511052, 0), align=None)
    extrude(amount=-CIRPATTERN2_COPY_12_DEPTH, mode=Mode.SUBTRACT)

    # CirPattern2 copy 13 sketch → CirPattern2 copy 13 (cut)
    with BuildSketch(Plane(origin=(-70, 7.5, 0), x_dir=(0, 0, 1), z_dir=(0, 1, 0))):
        Polygon((3.718255526, 6.440207487), (-3.718255526, 6.440207487), (-7.436511052, 0), (-3.718255526, -6.440207487), (3.718255526, -6.440207487), (7.436511052, 0), align=None)
    extrude(amount=-CIRPATTERN2_COPY_13_DEPTH, mode=Mode.SUBTRACT)

    # CirPattern2 copy 14 sketch → CirPattern2 copy 14 (cut)
    with BuildSketch(Plane(origin=(-49.497474683, 7.5, 49.497474683), x_dir=(0.7071067811865474, 0, 0.7071067811865477), z_dir=(0, 1, 0))):
        Polygon((3.718255526, 6.440207487), (-3.718255526, 6.440207487), (-7.436511052, 0), (-3.718255526, -6.440207487), (3.718255526, -6.440207487), (7.436511052, 0), align=None)
    extrude(amount=-CIRPATTERN2_COPY_14_DEPTH, mode=Mode.SUBTRACT)

    # Sketch4 → Cut-Extrude4 (cut)
    with BuildSketch(Plane(origin=(0, 7.5, 0), x_dir=(1, 0, 0), z_dir=(0, 1, 0))):
        with Locations(Location((0, 0, 0), (0, 0, 270))):
            Circle(SKETCH4_R)
    extrude(amount=-CUT_EXTRUDE4_DEPTH, mode=Mode.SUBTRACT)


solid = part.part
